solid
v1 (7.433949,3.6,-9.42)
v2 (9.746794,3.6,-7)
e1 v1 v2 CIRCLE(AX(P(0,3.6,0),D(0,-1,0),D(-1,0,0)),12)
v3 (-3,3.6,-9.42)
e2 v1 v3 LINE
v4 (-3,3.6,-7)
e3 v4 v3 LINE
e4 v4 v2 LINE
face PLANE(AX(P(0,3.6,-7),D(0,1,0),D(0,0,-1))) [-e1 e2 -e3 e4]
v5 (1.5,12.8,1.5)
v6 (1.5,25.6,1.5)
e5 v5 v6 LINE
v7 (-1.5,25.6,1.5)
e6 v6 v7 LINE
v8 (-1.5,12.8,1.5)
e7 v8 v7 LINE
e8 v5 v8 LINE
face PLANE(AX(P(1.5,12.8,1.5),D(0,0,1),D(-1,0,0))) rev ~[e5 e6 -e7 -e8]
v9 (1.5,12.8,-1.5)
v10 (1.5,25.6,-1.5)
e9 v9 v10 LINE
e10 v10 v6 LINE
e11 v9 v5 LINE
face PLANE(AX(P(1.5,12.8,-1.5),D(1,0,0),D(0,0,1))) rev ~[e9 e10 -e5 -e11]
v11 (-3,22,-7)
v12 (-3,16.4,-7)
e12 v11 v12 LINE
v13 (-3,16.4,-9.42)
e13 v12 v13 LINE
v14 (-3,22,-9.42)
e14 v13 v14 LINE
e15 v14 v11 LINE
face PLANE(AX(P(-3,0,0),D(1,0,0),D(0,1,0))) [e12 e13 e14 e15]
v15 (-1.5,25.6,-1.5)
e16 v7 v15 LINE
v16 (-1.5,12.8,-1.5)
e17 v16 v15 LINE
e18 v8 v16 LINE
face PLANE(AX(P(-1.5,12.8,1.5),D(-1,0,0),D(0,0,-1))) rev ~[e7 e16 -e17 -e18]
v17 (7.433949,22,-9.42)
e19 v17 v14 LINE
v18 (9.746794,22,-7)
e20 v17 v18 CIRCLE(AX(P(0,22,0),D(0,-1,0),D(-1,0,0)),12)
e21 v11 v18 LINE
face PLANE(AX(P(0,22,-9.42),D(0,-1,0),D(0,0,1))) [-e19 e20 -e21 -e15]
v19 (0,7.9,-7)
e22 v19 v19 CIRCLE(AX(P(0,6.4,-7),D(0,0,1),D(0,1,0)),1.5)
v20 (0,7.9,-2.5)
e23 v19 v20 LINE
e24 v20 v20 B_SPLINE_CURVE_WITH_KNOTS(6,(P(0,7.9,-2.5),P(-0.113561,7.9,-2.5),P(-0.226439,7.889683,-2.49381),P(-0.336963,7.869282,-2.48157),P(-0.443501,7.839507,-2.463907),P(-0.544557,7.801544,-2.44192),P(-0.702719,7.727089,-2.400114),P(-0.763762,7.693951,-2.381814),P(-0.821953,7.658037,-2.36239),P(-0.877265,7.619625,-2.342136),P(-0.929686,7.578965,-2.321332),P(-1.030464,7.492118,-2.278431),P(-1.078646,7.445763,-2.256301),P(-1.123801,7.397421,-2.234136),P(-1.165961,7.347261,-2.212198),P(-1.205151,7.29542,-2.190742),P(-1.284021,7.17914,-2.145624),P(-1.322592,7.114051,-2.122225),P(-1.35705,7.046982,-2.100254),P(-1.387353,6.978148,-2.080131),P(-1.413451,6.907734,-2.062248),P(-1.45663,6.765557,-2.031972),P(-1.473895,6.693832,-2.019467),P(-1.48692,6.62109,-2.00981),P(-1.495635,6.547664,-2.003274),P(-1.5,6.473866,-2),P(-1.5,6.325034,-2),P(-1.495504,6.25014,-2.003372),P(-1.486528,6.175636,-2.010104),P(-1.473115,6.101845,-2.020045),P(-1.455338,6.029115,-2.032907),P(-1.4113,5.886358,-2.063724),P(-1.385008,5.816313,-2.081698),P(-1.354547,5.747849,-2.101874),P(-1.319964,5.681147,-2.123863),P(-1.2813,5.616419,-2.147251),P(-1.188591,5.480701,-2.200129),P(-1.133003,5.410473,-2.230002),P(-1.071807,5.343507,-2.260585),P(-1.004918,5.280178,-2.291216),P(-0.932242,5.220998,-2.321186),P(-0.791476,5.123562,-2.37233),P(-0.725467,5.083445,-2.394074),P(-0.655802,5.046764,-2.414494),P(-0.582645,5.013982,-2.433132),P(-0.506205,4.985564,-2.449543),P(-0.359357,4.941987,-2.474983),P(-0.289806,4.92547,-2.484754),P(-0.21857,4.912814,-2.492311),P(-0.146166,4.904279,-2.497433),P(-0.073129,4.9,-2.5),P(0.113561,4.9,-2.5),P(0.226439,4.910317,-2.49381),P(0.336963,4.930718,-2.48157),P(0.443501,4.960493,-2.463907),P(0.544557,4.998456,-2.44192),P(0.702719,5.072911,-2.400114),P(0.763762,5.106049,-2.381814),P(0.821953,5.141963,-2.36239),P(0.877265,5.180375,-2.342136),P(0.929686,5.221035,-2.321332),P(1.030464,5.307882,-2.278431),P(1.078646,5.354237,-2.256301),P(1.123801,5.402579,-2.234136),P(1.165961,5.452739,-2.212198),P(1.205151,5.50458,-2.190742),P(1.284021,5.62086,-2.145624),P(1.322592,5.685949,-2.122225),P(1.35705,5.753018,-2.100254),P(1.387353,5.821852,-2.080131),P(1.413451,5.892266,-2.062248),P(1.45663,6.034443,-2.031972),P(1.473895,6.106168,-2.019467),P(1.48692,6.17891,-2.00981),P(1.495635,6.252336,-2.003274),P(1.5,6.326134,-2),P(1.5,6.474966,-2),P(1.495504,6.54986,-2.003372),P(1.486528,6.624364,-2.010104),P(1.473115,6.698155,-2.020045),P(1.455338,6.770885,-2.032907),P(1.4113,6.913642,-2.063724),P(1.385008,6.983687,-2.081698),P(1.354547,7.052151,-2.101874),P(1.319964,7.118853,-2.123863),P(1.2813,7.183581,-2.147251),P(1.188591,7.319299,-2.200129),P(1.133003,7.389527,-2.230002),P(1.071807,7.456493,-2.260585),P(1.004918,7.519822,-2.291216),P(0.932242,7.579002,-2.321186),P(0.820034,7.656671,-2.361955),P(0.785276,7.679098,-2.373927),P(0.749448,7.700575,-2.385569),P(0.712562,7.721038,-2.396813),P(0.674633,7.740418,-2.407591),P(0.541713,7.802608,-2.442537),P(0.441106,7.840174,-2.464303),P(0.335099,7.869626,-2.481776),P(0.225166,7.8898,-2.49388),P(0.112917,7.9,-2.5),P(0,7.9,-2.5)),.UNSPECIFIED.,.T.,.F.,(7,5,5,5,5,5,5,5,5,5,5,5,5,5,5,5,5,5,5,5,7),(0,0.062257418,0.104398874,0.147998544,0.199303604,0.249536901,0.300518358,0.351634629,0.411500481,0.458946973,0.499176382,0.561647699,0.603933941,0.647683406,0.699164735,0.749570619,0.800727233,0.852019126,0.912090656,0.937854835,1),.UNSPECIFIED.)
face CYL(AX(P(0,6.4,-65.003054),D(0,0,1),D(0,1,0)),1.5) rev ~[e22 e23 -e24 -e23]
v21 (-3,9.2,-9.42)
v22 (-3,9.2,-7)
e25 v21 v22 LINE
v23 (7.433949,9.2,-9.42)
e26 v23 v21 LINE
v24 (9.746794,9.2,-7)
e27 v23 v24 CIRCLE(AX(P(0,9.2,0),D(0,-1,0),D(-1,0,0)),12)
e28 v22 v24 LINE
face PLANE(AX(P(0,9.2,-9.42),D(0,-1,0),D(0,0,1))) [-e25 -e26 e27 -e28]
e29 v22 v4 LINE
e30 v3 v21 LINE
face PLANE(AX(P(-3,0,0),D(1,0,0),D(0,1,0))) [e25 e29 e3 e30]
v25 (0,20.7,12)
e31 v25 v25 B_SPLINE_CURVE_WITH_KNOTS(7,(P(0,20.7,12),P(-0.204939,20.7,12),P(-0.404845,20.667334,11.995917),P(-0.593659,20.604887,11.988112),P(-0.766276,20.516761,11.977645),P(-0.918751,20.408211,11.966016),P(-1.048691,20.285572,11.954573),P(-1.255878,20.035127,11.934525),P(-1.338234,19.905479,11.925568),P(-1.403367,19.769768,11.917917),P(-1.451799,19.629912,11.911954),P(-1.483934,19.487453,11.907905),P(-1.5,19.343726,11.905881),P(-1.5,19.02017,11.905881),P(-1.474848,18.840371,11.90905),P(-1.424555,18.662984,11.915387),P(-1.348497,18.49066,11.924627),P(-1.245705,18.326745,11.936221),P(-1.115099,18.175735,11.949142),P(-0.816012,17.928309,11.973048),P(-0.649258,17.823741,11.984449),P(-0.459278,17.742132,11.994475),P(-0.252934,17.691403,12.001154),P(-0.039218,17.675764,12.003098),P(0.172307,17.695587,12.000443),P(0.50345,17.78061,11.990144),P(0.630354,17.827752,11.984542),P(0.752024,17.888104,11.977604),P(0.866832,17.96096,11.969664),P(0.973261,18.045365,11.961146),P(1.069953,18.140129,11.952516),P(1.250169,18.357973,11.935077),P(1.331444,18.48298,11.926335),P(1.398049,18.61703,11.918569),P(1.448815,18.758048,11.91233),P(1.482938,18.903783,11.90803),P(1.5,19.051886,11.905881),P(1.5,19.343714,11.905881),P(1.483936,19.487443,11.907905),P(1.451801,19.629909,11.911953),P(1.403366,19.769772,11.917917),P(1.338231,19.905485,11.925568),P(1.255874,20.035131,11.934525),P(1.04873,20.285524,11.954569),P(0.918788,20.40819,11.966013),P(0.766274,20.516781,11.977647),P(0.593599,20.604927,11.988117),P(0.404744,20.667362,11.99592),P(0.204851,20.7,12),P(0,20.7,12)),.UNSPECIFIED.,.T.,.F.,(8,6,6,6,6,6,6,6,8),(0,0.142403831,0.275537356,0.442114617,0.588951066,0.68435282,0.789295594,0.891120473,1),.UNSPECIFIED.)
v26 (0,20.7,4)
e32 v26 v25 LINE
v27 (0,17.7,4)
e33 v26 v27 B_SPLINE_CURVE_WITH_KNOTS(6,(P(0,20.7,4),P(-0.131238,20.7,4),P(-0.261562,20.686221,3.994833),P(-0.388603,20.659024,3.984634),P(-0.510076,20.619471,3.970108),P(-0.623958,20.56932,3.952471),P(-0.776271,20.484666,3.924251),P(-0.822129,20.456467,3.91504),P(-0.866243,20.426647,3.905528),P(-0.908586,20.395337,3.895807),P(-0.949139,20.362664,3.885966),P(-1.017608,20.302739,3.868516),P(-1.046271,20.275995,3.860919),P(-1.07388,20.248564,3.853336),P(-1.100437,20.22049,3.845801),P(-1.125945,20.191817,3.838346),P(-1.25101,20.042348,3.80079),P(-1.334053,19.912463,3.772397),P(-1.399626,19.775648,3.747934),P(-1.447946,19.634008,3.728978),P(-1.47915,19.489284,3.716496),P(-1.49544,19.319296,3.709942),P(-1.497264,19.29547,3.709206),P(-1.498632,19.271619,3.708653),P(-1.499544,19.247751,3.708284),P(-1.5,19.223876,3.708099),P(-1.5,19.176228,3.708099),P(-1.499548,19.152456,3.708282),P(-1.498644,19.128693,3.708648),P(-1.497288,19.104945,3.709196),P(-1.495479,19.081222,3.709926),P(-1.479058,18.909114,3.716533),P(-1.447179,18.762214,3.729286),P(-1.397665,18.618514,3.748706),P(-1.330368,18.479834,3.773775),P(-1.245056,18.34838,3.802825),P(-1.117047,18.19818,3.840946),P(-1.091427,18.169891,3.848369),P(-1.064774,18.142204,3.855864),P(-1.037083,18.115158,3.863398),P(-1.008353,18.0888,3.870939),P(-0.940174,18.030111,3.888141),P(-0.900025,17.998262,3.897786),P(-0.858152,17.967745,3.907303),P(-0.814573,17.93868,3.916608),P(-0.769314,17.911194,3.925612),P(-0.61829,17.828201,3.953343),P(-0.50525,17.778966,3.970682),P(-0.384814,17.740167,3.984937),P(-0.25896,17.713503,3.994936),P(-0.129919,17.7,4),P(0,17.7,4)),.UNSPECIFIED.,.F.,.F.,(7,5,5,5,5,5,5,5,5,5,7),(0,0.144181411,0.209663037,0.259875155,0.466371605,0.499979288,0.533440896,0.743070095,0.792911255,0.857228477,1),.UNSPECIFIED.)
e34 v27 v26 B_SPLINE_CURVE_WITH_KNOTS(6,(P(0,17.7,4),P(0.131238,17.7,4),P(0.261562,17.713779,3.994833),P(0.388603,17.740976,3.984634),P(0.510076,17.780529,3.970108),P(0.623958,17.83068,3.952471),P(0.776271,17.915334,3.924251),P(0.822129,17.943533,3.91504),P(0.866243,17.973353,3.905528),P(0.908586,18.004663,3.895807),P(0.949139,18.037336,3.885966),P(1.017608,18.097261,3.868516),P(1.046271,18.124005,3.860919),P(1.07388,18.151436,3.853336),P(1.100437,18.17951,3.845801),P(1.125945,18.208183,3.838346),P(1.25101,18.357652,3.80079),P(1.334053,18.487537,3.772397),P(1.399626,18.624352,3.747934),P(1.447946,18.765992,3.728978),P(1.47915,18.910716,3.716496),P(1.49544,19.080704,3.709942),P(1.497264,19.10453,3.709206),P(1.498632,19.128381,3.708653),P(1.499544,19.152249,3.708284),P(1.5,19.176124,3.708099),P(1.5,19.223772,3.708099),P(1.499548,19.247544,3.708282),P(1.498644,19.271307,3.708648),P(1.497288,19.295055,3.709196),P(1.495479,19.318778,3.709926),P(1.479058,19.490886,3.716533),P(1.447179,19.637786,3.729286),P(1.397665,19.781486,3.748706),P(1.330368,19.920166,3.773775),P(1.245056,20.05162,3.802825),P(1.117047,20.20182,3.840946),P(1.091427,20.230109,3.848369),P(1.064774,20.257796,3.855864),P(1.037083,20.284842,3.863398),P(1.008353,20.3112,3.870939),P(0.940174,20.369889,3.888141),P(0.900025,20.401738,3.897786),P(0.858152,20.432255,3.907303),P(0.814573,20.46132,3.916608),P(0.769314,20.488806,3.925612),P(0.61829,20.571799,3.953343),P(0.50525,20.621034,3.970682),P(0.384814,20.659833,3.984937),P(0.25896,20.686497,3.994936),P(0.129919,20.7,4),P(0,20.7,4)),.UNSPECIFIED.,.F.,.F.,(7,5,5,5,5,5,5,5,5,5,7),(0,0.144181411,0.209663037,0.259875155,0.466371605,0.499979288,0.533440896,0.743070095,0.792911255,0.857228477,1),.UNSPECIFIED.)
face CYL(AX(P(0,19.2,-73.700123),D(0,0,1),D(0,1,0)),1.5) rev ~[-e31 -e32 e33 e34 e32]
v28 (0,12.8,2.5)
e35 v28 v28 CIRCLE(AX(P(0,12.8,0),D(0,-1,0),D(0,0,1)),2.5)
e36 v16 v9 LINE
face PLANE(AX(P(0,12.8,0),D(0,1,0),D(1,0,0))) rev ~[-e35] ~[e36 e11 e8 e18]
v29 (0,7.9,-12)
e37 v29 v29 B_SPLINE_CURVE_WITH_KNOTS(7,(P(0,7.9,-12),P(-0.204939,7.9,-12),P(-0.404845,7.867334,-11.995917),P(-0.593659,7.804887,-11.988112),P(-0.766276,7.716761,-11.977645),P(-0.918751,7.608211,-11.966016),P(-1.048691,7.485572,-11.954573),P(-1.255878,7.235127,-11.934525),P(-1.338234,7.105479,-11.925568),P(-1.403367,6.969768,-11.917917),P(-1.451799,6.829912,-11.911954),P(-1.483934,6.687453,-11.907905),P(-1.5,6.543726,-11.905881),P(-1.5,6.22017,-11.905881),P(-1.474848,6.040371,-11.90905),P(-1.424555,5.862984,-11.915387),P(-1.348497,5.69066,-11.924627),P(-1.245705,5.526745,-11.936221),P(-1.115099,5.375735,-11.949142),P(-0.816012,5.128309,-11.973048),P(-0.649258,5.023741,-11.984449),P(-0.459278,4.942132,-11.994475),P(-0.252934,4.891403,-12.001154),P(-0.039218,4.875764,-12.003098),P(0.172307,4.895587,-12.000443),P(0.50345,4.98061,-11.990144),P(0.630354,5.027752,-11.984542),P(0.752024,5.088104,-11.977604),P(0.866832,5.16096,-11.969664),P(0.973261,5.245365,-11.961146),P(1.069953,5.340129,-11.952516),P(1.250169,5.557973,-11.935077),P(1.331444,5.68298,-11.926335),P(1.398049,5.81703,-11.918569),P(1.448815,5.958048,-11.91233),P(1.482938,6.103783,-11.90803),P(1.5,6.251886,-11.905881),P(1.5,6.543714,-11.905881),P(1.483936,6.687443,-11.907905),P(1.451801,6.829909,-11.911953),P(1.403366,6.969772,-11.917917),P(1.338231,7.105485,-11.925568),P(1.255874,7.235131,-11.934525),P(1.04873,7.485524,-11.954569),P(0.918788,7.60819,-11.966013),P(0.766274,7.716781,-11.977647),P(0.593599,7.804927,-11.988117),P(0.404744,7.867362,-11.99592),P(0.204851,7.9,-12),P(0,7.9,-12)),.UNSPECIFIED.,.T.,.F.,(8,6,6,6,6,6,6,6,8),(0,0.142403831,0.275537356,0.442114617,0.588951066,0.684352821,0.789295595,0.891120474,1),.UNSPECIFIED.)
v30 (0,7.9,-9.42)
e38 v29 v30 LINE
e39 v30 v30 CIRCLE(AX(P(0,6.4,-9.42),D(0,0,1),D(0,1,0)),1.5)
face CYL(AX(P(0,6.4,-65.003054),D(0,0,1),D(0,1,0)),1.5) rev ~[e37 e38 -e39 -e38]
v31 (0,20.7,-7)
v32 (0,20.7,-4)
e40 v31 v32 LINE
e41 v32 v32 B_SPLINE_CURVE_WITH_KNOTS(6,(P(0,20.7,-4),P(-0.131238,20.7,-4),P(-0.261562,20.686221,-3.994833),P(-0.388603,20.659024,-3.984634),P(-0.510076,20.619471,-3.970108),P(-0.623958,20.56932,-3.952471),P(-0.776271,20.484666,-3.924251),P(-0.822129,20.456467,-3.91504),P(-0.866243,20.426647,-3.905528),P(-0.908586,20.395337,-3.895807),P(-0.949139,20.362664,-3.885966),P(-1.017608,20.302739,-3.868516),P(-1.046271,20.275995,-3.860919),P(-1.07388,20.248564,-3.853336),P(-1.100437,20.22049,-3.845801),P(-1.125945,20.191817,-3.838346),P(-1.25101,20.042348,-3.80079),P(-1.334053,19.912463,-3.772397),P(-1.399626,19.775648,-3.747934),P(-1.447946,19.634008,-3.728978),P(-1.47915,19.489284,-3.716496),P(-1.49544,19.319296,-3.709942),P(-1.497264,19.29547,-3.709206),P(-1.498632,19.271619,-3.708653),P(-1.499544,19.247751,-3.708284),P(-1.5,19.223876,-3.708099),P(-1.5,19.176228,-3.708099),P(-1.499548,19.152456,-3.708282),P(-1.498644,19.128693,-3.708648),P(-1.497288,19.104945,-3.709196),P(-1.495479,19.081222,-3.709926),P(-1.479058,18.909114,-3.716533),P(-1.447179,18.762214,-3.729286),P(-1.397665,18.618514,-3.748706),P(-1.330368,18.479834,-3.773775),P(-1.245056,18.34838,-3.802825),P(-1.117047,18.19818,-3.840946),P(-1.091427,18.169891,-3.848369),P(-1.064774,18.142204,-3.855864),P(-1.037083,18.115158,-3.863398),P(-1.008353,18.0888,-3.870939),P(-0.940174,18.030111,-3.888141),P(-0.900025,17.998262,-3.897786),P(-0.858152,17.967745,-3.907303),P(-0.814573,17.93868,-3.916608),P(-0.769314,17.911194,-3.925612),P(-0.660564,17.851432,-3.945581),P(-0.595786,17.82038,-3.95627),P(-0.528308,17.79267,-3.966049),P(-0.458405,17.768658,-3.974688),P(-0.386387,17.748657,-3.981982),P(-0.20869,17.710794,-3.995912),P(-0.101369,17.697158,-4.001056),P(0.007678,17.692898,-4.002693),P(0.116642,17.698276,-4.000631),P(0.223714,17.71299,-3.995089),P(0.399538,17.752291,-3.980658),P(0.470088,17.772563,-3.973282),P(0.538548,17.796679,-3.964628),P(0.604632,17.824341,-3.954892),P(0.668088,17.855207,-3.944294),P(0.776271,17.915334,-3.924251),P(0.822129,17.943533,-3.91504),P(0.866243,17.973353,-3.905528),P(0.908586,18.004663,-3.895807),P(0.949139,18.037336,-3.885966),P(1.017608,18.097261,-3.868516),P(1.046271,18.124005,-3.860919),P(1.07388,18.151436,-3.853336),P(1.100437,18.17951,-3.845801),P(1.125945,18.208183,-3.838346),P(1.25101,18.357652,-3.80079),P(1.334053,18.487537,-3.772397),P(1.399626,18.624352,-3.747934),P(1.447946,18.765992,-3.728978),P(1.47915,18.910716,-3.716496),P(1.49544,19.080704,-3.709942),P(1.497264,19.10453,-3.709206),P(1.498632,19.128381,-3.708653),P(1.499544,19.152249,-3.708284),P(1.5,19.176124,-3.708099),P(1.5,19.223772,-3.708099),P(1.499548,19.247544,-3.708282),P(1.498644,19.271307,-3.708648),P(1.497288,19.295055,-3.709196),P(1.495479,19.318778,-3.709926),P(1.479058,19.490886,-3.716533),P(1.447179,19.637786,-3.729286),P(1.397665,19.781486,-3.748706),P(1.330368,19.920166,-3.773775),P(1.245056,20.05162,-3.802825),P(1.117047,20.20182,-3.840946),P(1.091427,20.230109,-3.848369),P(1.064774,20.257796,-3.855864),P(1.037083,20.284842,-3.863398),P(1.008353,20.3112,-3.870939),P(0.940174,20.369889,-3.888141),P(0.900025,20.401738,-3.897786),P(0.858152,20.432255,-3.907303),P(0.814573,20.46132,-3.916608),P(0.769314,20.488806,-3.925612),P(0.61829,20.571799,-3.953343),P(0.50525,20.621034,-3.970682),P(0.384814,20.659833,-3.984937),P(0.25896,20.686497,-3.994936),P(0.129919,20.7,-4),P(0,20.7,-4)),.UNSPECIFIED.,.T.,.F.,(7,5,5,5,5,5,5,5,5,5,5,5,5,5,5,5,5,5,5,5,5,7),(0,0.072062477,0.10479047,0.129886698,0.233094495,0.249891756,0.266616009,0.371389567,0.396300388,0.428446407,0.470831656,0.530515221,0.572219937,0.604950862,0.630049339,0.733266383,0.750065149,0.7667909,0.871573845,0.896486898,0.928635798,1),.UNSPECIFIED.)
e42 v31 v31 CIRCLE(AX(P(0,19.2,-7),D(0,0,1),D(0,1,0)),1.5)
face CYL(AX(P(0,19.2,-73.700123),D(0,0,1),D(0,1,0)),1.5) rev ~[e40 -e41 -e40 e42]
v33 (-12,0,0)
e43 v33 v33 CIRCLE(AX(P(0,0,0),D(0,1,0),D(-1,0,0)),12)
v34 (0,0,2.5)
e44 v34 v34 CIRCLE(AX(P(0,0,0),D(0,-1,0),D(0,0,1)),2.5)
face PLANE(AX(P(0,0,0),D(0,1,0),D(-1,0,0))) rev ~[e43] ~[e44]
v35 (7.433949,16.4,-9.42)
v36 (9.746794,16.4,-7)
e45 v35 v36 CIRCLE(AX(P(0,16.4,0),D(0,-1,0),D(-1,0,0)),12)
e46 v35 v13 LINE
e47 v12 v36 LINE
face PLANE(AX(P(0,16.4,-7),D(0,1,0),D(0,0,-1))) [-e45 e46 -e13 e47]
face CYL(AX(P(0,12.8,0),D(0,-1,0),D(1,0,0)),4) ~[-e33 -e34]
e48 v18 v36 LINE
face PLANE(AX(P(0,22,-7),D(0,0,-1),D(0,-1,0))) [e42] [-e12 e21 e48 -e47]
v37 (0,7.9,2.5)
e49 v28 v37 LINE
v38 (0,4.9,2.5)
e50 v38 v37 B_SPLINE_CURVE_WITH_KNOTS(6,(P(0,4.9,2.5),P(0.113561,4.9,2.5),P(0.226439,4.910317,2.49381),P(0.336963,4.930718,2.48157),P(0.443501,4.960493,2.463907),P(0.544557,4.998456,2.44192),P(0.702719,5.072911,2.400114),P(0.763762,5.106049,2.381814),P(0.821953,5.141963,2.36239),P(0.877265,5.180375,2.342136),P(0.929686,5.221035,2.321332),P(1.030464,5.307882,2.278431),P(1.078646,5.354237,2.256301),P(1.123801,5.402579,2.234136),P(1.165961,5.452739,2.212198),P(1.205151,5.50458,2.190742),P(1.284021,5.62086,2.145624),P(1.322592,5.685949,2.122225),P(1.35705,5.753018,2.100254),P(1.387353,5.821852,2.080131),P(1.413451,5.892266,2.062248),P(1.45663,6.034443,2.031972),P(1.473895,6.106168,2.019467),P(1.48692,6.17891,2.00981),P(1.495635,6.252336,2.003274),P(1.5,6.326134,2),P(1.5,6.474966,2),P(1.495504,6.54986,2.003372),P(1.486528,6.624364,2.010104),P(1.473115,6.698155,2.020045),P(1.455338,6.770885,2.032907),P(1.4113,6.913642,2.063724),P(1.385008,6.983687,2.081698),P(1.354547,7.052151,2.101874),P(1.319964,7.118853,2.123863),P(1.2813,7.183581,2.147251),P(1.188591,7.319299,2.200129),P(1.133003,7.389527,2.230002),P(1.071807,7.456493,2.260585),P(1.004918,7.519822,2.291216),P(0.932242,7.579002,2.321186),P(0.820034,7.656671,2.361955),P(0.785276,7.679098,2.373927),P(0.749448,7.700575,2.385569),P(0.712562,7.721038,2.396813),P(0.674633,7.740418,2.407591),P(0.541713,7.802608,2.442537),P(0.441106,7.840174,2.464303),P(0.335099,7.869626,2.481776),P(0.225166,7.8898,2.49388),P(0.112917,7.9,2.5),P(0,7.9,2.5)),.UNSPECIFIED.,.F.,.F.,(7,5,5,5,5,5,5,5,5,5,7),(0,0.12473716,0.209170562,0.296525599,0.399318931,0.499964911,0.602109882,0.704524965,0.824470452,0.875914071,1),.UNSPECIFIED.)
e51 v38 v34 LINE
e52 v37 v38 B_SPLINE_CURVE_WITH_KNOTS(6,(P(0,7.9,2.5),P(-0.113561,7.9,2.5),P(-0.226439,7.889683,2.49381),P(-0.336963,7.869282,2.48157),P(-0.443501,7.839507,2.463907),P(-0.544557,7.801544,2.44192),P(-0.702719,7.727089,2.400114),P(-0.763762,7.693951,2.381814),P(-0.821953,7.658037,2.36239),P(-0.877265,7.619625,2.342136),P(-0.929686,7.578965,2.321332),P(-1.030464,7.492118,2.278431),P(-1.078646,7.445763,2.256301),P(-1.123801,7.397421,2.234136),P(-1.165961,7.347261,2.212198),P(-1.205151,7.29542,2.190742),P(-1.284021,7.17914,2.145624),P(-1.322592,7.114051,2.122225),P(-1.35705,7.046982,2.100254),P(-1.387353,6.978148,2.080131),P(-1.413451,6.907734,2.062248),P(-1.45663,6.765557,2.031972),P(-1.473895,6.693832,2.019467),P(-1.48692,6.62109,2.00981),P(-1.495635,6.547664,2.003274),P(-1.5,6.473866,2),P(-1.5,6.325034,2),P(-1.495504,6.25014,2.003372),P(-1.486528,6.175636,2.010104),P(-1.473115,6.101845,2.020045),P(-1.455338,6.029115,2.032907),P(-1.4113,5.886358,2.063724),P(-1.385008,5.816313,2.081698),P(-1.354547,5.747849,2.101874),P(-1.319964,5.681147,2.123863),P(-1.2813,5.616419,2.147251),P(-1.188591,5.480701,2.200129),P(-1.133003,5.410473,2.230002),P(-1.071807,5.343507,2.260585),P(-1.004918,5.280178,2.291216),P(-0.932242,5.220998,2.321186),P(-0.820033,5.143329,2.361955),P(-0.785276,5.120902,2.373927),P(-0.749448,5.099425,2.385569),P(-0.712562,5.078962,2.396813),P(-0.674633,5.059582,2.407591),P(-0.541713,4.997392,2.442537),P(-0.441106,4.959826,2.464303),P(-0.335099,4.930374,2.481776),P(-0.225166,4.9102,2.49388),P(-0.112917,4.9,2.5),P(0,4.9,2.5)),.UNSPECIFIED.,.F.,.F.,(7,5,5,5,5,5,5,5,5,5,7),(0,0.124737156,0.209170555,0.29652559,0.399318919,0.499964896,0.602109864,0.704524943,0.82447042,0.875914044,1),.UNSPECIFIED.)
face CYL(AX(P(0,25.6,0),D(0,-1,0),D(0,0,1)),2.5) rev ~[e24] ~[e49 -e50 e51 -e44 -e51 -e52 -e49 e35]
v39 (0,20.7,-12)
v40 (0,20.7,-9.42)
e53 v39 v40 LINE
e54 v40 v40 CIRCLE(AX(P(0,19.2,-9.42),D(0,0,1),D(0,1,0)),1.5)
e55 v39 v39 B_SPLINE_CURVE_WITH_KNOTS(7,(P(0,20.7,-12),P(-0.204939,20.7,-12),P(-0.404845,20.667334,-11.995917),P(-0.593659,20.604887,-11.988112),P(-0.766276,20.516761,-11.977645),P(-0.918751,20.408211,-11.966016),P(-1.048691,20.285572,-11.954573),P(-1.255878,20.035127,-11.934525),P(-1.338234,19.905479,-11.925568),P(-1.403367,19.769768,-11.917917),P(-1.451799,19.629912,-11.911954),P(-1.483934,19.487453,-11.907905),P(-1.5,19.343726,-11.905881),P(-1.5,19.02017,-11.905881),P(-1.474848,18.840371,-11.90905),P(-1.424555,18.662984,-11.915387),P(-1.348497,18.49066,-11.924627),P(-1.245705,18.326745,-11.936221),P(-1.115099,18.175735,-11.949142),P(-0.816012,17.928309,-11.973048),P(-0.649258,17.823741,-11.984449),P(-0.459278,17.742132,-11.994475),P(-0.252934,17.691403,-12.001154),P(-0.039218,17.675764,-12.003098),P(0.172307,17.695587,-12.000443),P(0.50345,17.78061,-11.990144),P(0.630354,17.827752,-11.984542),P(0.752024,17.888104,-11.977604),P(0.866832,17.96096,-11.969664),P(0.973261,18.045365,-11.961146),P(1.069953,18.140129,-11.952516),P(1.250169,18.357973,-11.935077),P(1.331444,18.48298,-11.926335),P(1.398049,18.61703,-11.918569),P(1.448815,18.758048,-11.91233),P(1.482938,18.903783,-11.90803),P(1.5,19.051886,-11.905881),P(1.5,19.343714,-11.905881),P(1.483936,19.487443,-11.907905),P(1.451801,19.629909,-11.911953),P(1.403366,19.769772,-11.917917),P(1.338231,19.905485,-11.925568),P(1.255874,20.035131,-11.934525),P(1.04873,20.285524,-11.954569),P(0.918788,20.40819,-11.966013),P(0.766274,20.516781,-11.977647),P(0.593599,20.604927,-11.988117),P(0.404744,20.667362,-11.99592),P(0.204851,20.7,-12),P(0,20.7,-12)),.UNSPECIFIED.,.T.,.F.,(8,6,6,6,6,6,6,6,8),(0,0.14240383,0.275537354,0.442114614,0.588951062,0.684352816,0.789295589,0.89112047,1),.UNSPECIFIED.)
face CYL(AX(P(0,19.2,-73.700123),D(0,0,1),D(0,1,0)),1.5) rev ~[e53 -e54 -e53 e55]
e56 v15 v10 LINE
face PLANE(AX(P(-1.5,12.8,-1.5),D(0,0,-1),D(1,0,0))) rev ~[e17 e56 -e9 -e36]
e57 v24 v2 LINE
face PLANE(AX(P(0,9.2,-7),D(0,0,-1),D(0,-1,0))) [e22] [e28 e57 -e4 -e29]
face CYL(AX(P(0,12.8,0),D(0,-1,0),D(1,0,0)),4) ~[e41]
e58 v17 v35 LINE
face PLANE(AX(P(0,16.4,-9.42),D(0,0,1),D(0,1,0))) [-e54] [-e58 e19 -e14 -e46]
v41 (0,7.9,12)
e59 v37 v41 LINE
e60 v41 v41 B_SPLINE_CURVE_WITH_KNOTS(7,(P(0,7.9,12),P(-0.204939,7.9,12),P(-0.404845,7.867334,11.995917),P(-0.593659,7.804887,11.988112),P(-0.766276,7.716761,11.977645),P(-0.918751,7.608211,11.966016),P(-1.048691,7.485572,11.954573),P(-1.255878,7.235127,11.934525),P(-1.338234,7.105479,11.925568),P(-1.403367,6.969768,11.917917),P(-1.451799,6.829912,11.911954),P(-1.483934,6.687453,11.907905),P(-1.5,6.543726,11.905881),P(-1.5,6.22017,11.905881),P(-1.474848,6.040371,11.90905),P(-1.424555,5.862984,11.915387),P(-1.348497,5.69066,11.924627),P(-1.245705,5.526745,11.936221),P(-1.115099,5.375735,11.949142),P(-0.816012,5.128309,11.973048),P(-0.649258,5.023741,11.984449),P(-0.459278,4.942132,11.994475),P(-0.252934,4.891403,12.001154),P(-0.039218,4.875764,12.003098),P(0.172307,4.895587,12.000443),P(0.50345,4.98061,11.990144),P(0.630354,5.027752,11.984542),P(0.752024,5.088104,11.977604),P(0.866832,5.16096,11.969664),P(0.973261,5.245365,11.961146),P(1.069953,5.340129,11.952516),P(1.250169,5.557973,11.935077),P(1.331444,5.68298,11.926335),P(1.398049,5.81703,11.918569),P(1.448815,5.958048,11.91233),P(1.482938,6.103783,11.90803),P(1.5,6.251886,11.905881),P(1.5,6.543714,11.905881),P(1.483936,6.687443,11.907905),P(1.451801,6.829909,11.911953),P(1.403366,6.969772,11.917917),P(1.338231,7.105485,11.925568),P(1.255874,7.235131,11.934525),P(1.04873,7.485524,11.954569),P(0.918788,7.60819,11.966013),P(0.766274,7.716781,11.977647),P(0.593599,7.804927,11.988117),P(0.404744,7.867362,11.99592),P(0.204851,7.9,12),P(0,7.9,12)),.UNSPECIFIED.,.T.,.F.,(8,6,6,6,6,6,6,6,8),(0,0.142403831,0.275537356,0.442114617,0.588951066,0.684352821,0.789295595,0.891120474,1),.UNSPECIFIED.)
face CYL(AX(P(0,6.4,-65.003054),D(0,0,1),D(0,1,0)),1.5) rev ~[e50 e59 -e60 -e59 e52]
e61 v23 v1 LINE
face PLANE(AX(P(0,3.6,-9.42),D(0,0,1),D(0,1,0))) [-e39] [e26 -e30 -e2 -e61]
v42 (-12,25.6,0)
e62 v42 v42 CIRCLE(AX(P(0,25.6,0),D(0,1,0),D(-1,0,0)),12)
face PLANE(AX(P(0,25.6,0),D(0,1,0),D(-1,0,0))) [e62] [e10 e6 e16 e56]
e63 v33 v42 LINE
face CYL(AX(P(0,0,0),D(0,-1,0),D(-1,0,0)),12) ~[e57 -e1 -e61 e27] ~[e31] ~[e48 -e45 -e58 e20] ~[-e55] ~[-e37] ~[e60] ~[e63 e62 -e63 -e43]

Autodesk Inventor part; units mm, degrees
ref_plane "YZ Plane" through (0, 0, 0) normal (1, 0, 0) x (0, 1, 0)
ref_plane "XZ Plane" through (0, 0, 0) normal (0, 1, 0) x (-1, 0, 0)
ref_plane "XY Plane" through (0, 0, 0) normal (0, 0, 1) x (1, 0, 0)
sketch "Boceto1" plane through (0, 0, 0) normal (0, 1, 0) x (-1, 0, 0)
  circle A0 centre (0, 0) radius 12
  dimension "d0" = 24
extrude "Extrusión1" add sketch "Boceto1" along normal blind 25.6
sketch "Boceto2" plane through (0, 25.6, 0) normal (0, 1, 0) x (1, 0, 0)
  point P0 (0, 0)
  point P1 (0, 0)
hole "Agujero1" at (0, 25.6, 0) direction (0, -1, 0) diameter 5 depth 35 tip angle 118
sketch "Boceto3" plane through (0, 25.6, 0) normal (0, 1, 0) x (1, 0, 0)
  point P0 (0, 0)
  point P1 (0, 0)
hole "Agujero2" at (0, 25.6, 0) direction (0, -1, 0) diameter 8 depth 12.8
sketch "Boceto4" plane through (0, 0, 0) normal (1, 0, 0) x (0, 1, 0)
  line L0 (9.2, -7) -> (3.6, -7)
  line L1 (3.6, -7) -> (3.6, -9.42)
  line L2 (3.6, -9.42) -> (9.2, -9.42)
  line L3 (9.2, -9.42) -> (9.2, -7)
  line L4 (25.6, -12) -> (25.6, 12) construction
  line L5 (0, 12) -> (0, -12) construction
  line L6 (12.8, -2.5) -> (12.8, 2.5) construction
  line L7 (0, -2.5) -> (0, 2.5) construction
  line L8 (19.2, 26.4321) -> (19.2, -18.0419) construction
  line L9 (6.4, 12.9466) -> (6.4, -18.0419) construction
  line L10 (22, -7) -> (16.4, -7)
  line L11 (16.4, -7) -> (16.4, -9.42)
  line L12 (16.4, -9.42) -> (22, -9.42)
  line L13 (22, -9.42) -> (22, -7)
  line L14 (0, -2.5) -> (0, 2.5) construction
  point P0 (0, 0)
  point P1 (6.4, -7)
  point P2 (19.2, -7)
  dimension "d17" = 5.6
  dimension "d18" = 2.42
  dimension "d19" = 6.4
  dimension "d20" = 6.4
  dimension "d21" = 5.6
  dimension "d22" = 2.42
  dimension "d23" = 9.42
  dimension "d24" = 9.42
extrude "Extrusión2" cut sketch "Boceto4" along normal blind 10 and the other way blind 3
sketch "Boceto5" plane through (9.7468, 16.4, -7) normal (0, 0, -1) x (-1, 0, 0)
  line L0 (0, -7.2) -> (2.3128, -7.2) construction
  line L1 (2.3128, -7.2) -> (2.3128, -12.8) construction
  line L2 (2.3128, -12.8) -> (0, -12.8) construction
  line L3 (0, -12.8) -> (0, -7.2) construction
  line L4 (0, 5.6) -> (2.3128, 5.6) construction
  line L5 (2.3128, 5.6) -> (2.3128, 0) construction
  line L6 (2.3128, 0) -> (0, 0) construction
  line L7 (0, 0) -> (0, 5.6) construction
  line L8 (21.7468, 9.2) -> (-2.2532, 9.2) construction
  line L9 (-2.2532, -16.4) -> (21.7468, -16.4) construction
  point P0 (9.7468, -16.4)
  point P1 (9.7468, 2.8)
  point P2 (9.7468, -10)
  point P3 (2.3128, -10)
  point P4 (2.3128, 2.8)
hole "Agujero3" at (0, 19.2, -7) at (0, 6.4, -7) direction (0, 0, 1) diameter 3 end through all both
sketch "Boceto6" plane through (0, 12.8, 0) normal (0, 1, 0) x (1, 0, 0)
  circle A0 centre (0, 0) radius 4 construction
  circle A1 centre (0, 0) radius 12 construction
  circle A2 centre (0, 0) radius 2.5 construction
  line L0 (1.5, -1.5) -> (-1.5, -1.5)
  line L1 (-1.5, -1.5) -> (-1.5, 1.5)
  line L2 (-1.5, 1.5) -> (1.5, 1.5)
  line L3 (1.5, 1.5) -> (1.5, -1.5)
  line L4 (-1.5, 1.5) -> (1.5, -1.5) construction
  line L5 (1.5, 1.5) -> (-1.5, -1.5) construction
  circle A3 centre (0, 0) radius 4
  dimension "d36" = 3
  dimension "d37" = 3
  dimension "d38" = 8
extrude "Extrusión3" add sketch "Boceto6" along normal up to surface (12.8 mm away)
equation "\"d20\" = d19"
equation "\"d24\" = d23"
properties part number "Coupler 5x8"
